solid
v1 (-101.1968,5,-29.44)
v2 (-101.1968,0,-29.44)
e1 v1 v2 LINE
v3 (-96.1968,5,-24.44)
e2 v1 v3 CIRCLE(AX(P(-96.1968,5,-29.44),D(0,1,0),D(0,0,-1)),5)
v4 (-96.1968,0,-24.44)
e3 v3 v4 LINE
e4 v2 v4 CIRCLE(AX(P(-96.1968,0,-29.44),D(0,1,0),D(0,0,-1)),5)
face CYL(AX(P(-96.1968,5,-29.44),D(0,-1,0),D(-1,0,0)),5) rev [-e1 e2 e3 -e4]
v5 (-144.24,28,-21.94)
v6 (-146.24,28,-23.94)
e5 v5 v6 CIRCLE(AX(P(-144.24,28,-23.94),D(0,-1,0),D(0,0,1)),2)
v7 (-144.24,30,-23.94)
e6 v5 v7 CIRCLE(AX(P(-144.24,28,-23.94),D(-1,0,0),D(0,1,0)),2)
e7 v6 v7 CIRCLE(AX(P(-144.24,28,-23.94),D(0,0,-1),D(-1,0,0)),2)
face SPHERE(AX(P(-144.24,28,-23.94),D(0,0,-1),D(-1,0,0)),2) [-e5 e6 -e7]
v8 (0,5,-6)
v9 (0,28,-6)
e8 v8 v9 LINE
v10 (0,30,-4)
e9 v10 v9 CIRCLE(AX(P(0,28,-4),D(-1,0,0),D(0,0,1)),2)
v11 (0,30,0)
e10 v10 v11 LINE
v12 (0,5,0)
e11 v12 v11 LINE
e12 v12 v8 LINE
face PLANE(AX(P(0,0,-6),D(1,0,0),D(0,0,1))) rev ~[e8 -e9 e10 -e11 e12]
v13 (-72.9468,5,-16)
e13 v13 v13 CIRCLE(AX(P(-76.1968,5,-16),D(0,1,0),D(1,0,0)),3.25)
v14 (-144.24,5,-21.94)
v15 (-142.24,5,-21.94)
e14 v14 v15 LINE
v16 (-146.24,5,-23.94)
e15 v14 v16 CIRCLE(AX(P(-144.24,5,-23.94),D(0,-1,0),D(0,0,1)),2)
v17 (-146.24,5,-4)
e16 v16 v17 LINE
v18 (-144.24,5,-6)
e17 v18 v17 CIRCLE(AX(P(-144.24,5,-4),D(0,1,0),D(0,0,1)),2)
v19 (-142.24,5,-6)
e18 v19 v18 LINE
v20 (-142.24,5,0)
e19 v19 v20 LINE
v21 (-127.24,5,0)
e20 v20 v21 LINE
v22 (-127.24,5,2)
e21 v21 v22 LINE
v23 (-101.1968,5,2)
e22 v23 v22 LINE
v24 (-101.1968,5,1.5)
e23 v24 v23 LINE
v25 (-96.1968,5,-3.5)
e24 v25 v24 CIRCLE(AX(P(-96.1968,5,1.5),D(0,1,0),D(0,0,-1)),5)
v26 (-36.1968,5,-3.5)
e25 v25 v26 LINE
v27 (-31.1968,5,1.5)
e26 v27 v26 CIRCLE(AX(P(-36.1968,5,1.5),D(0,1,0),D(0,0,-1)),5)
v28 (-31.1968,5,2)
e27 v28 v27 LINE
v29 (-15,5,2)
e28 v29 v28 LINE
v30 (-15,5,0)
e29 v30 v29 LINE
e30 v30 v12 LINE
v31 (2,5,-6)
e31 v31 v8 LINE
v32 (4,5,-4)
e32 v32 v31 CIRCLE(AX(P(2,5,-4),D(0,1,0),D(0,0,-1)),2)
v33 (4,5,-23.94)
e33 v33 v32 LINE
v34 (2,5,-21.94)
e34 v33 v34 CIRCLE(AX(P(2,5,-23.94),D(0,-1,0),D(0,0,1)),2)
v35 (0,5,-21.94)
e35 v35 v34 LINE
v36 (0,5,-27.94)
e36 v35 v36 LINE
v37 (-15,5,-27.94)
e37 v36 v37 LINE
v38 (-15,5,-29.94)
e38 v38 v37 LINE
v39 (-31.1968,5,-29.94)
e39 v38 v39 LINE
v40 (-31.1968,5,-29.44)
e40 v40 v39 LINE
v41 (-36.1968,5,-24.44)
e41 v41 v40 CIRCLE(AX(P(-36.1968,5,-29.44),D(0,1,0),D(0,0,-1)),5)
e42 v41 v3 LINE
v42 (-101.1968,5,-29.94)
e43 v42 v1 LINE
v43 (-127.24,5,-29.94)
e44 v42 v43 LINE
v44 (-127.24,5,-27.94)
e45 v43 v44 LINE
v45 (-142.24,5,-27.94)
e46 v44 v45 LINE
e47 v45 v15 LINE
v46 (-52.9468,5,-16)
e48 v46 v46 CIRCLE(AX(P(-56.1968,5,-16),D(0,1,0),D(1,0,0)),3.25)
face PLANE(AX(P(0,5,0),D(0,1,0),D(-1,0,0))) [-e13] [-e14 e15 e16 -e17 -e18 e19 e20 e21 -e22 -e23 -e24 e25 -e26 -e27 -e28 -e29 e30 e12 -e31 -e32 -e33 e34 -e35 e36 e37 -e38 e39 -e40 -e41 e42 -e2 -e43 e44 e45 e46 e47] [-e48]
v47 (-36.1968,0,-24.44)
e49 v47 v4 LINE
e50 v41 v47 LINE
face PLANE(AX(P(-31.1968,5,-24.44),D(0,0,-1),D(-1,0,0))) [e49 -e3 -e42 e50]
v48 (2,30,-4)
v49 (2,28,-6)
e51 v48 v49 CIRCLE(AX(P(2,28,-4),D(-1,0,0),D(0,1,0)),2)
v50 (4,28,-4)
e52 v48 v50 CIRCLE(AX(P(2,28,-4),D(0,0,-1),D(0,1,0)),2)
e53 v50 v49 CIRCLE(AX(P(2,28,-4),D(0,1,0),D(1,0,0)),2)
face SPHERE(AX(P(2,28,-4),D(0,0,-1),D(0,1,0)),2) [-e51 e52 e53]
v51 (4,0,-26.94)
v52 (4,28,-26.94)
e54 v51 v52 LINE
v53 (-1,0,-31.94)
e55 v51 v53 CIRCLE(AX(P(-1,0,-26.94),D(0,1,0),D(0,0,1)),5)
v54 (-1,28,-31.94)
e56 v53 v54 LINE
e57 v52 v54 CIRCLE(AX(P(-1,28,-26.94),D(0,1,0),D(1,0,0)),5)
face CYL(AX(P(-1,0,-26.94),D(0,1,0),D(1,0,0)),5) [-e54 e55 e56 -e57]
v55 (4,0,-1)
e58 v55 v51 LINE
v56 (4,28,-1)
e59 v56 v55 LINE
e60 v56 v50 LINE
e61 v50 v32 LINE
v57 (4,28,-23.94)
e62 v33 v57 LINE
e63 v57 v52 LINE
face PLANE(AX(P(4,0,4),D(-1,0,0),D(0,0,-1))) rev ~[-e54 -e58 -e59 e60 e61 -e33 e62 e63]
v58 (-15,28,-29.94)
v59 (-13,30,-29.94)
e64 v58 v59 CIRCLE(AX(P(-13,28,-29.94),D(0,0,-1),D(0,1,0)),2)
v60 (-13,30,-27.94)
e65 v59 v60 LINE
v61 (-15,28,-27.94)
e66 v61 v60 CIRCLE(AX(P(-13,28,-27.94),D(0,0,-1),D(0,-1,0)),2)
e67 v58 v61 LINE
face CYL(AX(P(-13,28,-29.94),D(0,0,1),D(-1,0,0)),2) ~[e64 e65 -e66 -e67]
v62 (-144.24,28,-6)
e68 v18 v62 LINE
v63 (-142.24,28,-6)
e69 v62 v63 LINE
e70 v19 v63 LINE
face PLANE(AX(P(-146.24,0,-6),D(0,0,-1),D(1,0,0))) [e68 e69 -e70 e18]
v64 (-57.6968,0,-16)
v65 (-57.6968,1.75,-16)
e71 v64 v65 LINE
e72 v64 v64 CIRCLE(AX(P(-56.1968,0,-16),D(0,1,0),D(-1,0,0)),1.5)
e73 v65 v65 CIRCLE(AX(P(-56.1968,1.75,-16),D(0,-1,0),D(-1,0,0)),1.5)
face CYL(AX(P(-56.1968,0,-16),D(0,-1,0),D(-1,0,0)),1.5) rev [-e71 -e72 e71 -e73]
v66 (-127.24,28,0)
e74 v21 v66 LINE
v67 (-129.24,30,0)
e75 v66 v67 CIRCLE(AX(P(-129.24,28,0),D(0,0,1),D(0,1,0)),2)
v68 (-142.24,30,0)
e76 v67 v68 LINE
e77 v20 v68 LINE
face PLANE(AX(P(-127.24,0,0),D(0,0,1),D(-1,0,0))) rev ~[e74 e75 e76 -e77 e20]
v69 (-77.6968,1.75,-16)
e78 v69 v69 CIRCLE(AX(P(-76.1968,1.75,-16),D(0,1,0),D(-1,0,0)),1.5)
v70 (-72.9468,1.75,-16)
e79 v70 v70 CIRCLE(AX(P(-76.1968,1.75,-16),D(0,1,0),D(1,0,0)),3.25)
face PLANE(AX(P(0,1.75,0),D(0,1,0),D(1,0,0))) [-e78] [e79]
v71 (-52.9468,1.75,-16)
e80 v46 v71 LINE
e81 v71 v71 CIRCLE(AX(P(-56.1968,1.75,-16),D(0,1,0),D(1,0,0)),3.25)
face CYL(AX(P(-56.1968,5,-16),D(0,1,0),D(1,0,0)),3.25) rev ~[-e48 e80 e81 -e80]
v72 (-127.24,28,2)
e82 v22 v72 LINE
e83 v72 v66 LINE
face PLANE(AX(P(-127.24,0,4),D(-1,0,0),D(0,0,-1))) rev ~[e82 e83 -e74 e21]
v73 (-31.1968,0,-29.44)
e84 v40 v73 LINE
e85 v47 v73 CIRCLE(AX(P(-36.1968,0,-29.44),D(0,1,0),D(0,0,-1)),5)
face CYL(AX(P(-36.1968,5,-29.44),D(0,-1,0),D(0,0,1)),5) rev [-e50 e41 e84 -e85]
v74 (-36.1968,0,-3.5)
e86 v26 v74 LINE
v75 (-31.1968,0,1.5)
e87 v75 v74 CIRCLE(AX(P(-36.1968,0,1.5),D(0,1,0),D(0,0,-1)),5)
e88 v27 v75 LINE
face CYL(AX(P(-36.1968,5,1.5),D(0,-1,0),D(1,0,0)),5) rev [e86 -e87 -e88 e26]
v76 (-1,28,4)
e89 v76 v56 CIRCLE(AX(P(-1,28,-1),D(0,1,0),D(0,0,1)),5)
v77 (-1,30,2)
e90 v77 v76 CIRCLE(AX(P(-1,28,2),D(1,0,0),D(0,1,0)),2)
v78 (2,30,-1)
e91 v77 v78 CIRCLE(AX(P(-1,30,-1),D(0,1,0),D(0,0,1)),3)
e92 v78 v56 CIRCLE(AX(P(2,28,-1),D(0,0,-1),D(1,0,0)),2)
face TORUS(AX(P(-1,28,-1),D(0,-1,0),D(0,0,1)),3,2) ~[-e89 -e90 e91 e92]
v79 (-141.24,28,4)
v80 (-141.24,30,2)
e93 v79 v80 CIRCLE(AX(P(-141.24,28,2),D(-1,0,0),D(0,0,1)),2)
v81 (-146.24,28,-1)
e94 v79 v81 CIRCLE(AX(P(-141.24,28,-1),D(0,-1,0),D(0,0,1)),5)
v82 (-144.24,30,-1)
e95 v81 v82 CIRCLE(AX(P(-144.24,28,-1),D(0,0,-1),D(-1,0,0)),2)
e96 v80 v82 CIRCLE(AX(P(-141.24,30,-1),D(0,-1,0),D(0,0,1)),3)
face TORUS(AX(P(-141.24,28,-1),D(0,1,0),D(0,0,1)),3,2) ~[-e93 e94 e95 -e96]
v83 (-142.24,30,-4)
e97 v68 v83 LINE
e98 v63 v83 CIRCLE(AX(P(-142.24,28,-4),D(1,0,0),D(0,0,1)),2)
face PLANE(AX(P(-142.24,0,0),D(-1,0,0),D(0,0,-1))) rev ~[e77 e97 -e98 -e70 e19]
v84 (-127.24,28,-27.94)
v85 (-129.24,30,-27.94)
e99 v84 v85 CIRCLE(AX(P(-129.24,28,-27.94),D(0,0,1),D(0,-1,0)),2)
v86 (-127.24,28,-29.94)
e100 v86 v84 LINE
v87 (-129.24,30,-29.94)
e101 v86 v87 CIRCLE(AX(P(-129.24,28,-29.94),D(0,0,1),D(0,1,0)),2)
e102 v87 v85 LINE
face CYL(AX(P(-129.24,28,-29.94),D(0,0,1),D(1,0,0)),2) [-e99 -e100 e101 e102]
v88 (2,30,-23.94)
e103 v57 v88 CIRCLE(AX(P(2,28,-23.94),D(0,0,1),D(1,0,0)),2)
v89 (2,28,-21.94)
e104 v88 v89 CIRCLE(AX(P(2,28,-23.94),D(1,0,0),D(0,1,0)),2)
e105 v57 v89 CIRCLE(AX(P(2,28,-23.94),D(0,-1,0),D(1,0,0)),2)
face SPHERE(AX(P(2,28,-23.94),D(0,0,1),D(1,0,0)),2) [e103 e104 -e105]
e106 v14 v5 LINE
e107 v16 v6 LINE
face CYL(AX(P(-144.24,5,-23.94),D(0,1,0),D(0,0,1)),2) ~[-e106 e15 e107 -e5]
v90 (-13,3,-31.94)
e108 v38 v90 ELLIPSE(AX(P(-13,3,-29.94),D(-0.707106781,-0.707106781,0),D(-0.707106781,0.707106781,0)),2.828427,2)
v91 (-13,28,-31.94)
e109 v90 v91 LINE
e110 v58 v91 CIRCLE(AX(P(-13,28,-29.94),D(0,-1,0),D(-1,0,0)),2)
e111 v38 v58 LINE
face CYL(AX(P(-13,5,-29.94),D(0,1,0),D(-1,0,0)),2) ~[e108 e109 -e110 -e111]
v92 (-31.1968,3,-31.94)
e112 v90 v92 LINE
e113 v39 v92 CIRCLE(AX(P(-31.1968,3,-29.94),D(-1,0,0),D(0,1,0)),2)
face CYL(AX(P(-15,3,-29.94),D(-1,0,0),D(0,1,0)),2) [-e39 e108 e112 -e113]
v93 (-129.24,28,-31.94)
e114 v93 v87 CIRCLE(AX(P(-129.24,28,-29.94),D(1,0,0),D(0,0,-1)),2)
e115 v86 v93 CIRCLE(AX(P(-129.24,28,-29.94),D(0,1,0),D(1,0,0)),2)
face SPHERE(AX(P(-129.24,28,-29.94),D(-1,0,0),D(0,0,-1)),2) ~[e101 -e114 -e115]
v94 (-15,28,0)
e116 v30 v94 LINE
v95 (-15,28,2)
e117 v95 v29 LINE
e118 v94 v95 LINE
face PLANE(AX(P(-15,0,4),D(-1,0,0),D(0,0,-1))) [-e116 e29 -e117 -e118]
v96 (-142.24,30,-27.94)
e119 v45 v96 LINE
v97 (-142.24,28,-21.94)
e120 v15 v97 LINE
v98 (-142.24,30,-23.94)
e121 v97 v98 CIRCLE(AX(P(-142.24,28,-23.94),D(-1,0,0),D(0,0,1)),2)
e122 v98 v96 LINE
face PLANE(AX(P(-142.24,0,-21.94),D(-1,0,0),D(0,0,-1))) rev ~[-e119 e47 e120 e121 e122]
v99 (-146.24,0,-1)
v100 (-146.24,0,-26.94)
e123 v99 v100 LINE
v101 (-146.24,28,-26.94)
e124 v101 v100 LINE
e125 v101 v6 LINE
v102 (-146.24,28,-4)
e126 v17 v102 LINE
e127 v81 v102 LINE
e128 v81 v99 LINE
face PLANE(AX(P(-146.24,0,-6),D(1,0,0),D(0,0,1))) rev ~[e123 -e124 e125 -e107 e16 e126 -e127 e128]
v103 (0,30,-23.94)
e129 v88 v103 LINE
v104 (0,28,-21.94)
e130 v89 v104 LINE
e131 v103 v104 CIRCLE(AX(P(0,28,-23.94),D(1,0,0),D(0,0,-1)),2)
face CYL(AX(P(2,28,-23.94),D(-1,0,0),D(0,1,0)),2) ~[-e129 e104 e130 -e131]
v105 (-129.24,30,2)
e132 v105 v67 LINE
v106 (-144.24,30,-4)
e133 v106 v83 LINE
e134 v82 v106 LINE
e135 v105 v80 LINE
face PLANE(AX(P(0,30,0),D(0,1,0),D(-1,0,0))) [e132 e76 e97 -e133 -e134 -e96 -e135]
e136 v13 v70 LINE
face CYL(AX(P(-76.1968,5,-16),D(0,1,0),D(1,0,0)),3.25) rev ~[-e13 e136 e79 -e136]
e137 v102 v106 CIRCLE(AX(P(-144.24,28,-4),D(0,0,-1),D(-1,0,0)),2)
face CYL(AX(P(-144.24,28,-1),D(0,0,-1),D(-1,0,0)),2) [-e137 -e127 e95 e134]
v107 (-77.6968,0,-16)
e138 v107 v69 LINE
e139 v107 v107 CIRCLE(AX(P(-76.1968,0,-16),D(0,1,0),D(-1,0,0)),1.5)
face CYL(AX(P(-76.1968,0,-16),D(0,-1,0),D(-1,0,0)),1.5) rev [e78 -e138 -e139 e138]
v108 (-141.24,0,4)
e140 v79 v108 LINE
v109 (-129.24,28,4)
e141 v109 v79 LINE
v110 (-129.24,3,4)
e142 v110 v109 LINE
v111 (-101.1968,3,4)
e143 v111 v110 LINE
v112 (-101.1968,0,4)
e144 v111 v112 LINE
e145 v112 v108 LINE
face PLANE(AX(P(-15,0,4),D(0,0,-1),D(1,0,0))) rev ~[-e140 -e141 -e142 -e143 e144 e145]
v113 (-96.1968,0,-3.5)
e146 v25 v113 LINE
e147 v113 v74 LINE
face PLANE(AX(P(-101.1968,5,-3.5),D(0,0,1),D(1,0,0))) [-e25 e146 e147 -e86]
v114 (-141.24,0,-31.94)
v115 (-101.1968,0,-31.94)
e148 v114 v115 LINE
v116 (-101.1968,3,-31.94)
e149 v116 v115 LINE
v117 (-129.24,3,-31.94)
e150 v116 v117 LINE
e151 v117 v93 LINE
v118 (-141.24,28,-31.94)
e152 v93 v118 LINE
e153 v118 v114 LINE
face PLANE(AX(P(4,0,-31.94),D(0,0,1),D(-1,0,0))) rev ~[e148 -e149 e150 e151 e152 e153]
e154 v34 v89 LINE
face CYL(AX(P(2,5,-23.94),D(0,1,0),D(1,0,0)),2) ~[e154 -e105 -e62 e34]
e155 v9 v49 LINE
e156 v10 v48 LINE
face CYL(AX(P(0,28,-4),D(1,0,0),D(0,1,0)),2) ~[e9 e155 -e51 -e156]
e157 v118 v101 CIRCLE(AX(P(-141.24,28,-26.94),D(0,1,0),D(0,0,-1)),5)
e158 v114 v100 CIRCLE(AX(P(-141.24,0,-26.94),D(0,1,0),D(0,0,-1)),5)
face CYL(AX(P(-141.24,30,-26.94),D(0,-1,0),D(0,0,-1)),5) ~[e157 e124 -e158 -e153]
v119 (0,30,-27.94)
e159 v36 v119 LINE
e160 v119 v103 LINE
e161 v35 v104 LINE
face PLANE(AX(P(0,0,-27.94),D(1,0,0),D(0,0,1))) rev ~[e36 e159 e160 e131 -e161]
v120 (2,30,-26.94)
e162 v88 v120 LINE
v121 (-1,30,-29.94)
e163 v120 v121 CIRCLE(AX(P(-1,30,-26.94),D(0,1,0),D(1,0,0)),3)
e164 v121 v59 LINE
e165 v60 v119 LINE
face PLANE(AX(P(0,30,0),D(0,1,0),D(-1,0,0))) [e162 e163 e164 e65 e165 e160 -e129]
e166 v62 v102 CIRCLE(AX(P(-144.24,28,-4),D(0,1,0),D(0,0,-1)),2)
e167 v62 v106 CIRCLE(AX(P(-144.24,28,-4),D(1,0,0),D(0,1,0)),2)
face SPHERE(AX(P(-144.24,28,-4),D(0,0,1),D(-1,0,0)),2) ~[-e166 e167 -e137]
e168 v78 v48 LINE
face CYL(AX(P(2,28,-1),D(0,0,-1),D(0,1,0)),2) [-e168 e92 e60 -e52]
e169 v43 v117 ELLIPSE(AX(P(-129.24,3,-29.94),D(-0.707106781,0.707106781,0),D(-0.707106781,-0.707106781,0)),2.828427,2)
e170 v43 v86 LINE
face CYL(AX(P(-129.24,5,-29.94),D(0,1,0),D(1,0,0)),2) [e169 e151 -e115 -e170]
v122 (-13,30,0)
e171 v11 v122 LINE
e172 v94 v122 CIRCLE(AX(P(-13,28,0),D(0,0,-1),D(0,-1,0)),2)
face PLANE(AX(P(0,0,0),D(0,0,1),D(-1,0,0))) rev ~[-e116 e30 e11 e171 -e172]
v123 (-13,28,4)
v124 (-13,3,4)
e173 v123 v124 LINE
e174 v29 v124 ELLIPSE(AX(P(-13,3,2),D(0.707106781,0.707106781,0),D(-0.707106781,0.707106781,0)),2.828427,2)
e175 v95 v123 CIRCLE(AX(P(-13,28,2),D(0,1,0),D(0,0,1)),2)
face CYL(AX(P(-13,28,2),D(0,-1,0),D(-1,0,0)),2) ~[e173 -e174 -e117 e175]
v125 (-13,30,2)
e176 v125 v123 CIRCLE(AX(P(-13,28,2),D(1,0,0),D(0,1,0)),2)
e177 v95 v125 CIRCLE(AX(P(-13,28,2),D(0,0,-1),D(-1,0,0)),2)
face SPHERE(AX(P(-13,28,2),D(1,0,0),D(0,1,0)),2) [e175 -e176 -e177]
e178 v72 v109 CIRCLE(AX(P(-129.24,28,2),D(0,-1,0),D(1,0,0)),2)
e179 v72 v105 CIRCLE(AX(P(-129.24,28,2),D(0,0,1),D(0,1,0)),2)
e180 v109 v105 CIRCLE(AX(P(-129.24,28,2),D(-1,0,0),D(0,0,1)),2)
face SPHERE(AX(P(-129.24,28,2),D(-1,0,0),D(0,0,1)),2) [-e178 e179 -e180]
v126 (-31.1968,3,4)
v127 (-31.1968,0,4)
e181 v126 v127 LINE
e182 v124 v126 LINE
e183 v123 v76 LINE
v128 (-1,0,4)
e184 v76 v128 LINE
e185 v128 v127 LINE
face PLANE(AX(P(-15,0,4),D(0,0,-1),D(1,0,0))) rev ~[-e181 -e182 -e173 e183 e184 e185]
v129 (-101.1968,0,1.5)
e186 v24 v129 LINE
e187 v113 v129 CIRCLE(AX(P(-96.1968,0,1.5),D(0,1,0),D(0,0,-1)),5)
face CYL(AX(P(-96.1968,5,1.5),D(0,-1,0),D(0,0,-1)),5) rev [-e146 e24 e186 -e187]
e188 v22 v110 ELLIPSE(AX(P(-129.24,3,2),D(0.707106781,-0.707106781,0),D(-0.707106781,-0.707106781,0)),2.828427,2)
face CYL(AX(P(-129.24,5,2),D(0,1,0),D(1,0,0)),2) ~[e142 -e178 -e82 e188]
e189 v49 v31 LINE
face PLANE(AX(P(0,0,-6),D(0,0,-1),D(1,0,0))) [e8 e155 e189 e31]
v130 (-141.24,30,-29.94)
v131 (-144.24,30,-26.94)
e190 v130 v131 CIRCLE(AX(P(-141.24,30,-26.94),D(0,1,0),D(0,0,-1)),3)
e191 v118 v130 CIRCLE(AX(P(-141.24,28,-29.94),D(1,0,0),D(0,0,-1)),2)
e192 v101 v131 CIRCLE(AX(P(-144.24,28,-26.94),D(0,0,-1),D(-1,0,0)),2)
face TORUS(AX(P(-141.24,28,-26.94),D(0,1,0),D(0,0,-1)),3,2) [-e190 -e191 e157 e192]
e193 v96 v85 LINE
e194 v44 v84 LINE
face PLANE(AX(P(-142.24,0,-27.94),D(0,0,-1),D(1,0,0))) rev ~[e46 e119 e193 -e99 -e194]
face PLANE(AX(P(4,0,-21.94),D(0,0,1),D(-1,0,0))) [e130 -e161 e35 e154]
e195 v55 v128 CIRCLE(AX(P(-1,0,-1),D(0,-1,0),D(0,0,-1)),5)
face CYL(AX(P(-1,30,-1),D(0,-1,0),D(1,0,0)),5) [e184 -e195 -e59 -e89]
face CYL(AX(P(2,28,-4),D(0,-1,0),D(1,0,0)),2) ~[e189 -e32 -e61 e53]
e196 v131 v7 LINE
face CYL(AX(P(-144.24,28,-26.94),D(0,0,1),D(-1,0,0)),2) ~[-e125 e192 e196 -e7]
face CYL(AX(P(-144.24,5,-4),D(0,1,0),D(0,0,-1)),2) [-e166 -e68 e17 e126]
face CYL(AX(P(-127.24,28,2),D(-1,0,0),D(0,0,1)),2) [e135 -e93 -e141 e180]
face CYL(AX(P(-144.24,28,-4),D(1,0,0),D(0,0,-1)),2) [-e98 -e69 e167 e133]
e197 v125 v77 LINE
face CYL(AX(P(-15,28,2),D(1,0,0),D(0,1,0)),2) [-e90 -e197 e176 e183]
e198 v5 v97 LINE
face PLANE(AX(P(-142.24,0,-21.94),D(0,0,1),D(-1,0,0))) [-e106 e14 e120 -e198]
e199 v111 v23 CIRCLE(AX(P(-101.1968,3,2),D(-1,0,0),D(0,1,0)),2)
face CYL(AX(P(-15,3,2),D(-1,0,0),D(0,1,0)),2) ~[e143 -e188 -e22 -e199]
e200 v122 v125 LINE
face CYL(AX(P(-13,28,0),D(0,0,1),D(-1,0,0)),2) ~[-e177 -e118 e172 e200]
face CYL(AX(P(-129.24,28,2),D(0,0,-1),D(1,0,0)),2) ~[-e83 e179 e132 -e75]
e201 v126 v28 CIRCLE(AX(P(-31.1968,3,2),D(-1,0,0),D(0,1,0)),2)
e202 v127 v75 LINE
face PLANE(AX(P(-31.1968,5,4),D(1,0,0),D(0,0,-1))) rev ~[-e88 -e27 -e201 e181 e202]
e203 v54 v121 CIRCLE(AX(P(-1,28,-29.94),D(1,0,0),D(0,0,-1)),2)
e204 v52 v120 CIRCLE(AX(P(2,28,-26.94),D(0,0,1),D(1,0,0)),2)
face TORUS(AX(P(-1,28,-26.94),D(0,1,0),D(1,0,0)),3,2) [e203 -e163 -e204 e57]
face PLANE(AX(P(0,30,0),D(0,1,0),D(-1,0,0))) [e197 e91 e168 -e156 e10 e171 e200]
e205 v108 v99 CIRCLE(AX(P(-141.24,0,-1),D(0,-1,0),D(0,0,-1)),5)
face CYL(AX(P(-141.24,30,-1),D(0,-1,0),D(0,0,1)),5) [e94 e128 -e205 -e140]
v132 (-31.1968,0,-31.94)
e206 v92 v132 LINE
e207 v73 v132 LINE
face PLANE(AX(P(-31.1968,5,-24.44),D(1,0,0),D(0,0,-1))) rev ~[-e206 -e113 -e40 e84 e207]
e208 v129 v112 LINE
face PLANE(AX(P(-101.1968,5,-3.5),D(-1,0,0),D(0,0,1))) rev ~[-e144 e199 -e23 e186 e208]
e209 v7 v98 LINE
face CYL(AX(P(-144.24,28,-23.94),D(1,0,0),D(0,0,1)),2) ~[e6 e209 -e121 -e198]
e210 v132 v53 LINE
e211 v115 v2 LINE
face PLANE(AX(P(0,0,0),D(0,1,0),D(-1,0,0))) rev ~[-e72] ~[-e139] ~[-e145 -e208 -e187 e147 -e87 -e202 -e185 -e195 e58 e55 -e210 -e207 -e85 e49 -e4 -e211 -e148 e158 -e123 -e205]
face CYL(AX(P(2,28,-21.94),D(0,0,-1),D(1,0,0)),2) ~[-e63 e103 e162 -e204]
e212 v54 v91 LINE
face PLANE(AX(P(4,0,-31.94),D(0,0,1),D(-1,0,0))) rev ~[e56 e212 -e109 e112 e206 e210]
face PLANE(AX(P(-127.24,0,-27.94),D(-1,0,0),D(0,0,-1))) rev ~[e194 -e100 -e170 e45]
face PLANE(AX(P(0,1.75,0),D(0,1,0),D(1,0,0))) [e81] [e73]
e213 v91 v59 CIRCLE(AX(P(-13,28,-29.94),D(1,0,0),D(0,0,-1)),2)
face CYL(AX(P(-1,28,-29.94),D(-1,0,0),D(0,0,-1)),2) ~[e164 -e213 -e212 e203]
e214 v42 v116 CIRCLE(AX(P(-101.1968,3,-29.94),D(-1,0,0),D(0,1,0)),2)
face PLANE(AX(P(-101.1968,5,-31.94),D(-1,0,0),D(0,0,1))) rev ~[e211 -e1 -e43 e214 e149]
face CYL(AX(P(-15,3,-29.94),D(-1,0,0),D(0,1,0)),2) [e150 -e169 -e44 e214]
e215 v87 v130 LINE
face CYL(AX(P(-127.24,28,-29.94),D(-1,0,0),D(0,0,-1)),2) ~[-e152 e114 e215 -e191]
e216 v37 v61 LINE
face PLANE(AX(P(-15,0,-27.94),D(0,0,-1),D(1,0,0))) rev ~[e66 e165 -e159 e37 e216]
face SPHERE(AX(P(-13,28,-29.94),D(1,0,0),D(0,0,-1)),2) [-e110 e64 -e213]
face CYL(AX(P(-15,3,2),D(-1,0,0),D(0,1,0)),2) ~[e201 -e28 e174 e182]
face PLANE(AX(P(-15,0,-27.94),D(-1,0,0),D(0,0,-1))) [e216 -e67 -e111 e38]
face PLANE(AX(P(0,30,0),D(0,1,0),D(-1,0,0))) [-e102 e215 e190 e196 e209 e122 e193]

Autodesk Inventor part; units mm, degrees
ref_plane "YZ Plane" through (0, 0, 0) normal (1, 0, 0) x (0, 1, 0)
ref_plane "XZ Plane" through (0, 0, 0) normal (0, 1, 0) x (-1, 0, 0)
ref_plane "XY Plane" through (0, 0, 0) normal (0, 0, 1) x (1, 0, 0)
sketch "Sketch1" plane through (0, 0, 0) normal (0, 1, 0) x (-1, 0, 0)
  line L0 (0, 0) -> (142.24, 0)
  line L1 (142.24, 0) -> (142.24, -27.94)
  line L2 (142.24, -27.94) -> (0, -27.94)
  line L3 (0, -27.94) -> (0, 0)
  circle A0 centre (76.1968, -16) radius 1.5
  circle A1 centre (56.1968, -16) radius 1.5
  line L4 (146.24, 4) -> (-4, 4)
  line L5 (-4, 4) -> (-4, -31.94)
  line L6 (-4, -31.94) -> (146.24, -31.94)
  line L7 (146.24, -31.94) -> (146.24, 4)
  line L8 (146.24, -6) -> (-4, -6)
  line L9 (-4, -21.94) -> (146.24, -21.94)
  line L10 (127.24, 4) -> (127.24, -31.94)
  line L11 (15, 4) -> (15, -31.94)
  point P0 (127.24, -27.94)
  point P1 (142.24, -21.94)
  point P2 (127.24, 0)
  point P3 (142.24, -6)
  point P4 (15, -27.94)
  point P5 (0, -21.94)
  point P6 (15, 0)
  point P7 (0, -6)
  dimension "d0" = 142.24
  dimension "d1" = 27.94
  dimension "d2" = 3
  dimension "d3" = 3
  dimension "d4" = 20
  dimension "d7" = 16
  dimension "d8" = 4
  dimension "d9" = 4
  dimension "d10" = 4
  dimension "d11" = 4
  dimension "d12" = 15
  dimension "d13" = 15
  dimension "d14" = 10
  dimension "d15" = 10
extrude "Extrusion1" add sketch "Sketch1" along normal blind 5
extrude "Extrusion2" add sketch "Sketch1" along normal blind 30 contours L3 L8 L5 L4 L11 L0 | L10 L4 L7 L8 L1 L0 | L3 L2 L11 L6 L5 L9 | L9 L7 L6 L10 L2 L1
sketch "Sketch2" plane through (0, 5, 0) normal (0, 1, 0) x (1, 0, 0)
  circle A0 centre (-56.1968, 16) radius 1.5 projected
  circle A1 centre (-76.1968, 16) radius 1.5 projected
  line L0 (-146.24, 6) -> (-142.24, 6) projected
  line L1 (-142.24, 6) -> (-142.24, 0) projected
  line L2 (-142.24, 0) -> (-127.24, 0) projected
  line L3 (-127.24, 0) -> (-127.24, -4) projected
  line L4 (-127.24, -4) -> (-15, -4) projected
  line L5 (-15, -4) -> (-15, 0) projected
  line L6 (-15, 0) -> (0, 0) projected
  line L7 (0, 0) -> (0, 6) projected
  line L8 (0, 6) -> (4, 6) projected
  line L9 (4, 6) -> (4, 21.94) projected
  line L10 (4, 21.94) -> (0, 21.94) projected
  line L11 (0, 21.94) -> (0, 27.94) projected
  line L12 (0, 27.94) -> (-15, 27.94) projected
  line L13 (-15, 27.94) -> (-15, 31.94) projected
  line L14 (-15, 31.94) -> (-127.24, 31.94) projected
  line L15 (-127.24, 31.94) -> (-127.24, 27.94) projected
  line L16 (-127.24, 27.94) -> (-142.24, 27.94) projected
  line L17 (-142.24, 27.94) -> (-142.24, 21.94) projected
  line L18 (-142.24, 21.94) -> (-146.24, 21.94) projected
  line L19 (-146.24, 21.94) -> (-146.24, 6) projected
  circle A2 centre (-76.1968, 16) radius 3.25
  circle A3 centre (-56.1968, 16) radius 3.25
  dimension "d20" = 6.5
  dimension "d21" = 6.5
extrude "Extrusion3" cut sketch "Sketch2" against normal blind 3.25 contours A0 | A2 | A3
fillet "Fillet1" radius 5 4 edges at (-146.24, 15, -31.94) (-146.24, 15, 4) (4, 15, -31.94) (4, 15, 4)
fillet "Fillet2" radius 2 12 edges at (-144.7755, 30, 2.5355) (-146.24, 30, -3.5) (-134.24, 30, 4) (-144.7755, 30, -30.4755) (-146.24, 30, -24.44) (-134.24, 30, -31.94) (4, 30, -24.44) (-8, 30, -31.94) (2.5355, 30, -30.4755) (-8, 30, 4) (4, 30, -3.5) (2.5355, 30, 2.5355)
fillet "Fillet3" radius 2 26 edges at (-71.12, 5, 4) (-71.12, 5, -31.94) (-127.24, 29.4142, -31.3542) (-127.24, 30, -28.94) (-127.24, 16.5, -31.94) (-127.24, 29.4142, 3.4142) (-127.24, 30, 1) (-127.24, 16.5, 4) (-15, 29.4142, 3.4142) (-15, 30, 1) (-15, 16.5, 4) (-15, 29.4142, -31.3542) (-15, 30, -28.94) (-15, 16.5, -31.94) (3.4142, 29.4142, -6) (1, 30, -6) (4, 16.5, -6) (3.4142, 29.4142, -21.94) (1, 30, -21.94) (4, 16.5, -21.94) (-145.6542, 29.4142, -21.94) (-143.24, 30, -21.94) (-146.24, 16.5, -21.94) (-145.6542, 29.4142, -6) (-143.24, 30, -6) (-146.24, 16.5, -6)
sketch "Sketch3" plane through (0, 5, 0) normal (0, 1, 0) x (1, 0, 0)
  line L0 (-141.24, -4) -> (-1, -4) projected
  line L1 (-1, 31.94) -> (-141.24, 31.94) projected
  line L2 (-101.1968, -4) -> (-31.1968, -4)
  line L3 (-31.1968, -4) -> (-31.1968, 31.94)
  line L4 (-31.1968, 31.94) -> (-101.1968, 31.94)
  line L5 (-101.1968, 31.94) -> (-101.1968, -4)
  circle A0 centre (-76.1968, 16) radius 1.5 projected
  circle A1 centre (-56.1968, 16) radius 1.5 projected
  line L6 (-101.1968, 3.5) -> (-31.1968, 3.5)
  line L7 (-31.1968, 3.5) -> (-31.1968, 24.44)
  line L8 (-31.1968, 24.44) -> (-101.1968, 24.44)
  line L9 (-101.1968, 24.44) -> (-101.1968, 3.5)
  point P0 (0, 0)
  point P1 (-31.1968, -4)
  dimension "d27" = 25
  dimension "d28" = 25
  dimension "d29" = 7.5
  dimension "d30" = 7.5
extrude "Extrusion4" cut sketch "Sketch3" against normal blind 18.75 contours L5 L6 L3 L0 | L5 L1 L3 L8
fillet "Fillet4" radius 5 4 edges at (-101.1968, 2.5, -3.5) (-31.1968, 2.5, -3.5) (-31.1968, 2.5, -24.44) (-101.1968, 2.5, -24.44)
properties part number "BatteryHolder"
